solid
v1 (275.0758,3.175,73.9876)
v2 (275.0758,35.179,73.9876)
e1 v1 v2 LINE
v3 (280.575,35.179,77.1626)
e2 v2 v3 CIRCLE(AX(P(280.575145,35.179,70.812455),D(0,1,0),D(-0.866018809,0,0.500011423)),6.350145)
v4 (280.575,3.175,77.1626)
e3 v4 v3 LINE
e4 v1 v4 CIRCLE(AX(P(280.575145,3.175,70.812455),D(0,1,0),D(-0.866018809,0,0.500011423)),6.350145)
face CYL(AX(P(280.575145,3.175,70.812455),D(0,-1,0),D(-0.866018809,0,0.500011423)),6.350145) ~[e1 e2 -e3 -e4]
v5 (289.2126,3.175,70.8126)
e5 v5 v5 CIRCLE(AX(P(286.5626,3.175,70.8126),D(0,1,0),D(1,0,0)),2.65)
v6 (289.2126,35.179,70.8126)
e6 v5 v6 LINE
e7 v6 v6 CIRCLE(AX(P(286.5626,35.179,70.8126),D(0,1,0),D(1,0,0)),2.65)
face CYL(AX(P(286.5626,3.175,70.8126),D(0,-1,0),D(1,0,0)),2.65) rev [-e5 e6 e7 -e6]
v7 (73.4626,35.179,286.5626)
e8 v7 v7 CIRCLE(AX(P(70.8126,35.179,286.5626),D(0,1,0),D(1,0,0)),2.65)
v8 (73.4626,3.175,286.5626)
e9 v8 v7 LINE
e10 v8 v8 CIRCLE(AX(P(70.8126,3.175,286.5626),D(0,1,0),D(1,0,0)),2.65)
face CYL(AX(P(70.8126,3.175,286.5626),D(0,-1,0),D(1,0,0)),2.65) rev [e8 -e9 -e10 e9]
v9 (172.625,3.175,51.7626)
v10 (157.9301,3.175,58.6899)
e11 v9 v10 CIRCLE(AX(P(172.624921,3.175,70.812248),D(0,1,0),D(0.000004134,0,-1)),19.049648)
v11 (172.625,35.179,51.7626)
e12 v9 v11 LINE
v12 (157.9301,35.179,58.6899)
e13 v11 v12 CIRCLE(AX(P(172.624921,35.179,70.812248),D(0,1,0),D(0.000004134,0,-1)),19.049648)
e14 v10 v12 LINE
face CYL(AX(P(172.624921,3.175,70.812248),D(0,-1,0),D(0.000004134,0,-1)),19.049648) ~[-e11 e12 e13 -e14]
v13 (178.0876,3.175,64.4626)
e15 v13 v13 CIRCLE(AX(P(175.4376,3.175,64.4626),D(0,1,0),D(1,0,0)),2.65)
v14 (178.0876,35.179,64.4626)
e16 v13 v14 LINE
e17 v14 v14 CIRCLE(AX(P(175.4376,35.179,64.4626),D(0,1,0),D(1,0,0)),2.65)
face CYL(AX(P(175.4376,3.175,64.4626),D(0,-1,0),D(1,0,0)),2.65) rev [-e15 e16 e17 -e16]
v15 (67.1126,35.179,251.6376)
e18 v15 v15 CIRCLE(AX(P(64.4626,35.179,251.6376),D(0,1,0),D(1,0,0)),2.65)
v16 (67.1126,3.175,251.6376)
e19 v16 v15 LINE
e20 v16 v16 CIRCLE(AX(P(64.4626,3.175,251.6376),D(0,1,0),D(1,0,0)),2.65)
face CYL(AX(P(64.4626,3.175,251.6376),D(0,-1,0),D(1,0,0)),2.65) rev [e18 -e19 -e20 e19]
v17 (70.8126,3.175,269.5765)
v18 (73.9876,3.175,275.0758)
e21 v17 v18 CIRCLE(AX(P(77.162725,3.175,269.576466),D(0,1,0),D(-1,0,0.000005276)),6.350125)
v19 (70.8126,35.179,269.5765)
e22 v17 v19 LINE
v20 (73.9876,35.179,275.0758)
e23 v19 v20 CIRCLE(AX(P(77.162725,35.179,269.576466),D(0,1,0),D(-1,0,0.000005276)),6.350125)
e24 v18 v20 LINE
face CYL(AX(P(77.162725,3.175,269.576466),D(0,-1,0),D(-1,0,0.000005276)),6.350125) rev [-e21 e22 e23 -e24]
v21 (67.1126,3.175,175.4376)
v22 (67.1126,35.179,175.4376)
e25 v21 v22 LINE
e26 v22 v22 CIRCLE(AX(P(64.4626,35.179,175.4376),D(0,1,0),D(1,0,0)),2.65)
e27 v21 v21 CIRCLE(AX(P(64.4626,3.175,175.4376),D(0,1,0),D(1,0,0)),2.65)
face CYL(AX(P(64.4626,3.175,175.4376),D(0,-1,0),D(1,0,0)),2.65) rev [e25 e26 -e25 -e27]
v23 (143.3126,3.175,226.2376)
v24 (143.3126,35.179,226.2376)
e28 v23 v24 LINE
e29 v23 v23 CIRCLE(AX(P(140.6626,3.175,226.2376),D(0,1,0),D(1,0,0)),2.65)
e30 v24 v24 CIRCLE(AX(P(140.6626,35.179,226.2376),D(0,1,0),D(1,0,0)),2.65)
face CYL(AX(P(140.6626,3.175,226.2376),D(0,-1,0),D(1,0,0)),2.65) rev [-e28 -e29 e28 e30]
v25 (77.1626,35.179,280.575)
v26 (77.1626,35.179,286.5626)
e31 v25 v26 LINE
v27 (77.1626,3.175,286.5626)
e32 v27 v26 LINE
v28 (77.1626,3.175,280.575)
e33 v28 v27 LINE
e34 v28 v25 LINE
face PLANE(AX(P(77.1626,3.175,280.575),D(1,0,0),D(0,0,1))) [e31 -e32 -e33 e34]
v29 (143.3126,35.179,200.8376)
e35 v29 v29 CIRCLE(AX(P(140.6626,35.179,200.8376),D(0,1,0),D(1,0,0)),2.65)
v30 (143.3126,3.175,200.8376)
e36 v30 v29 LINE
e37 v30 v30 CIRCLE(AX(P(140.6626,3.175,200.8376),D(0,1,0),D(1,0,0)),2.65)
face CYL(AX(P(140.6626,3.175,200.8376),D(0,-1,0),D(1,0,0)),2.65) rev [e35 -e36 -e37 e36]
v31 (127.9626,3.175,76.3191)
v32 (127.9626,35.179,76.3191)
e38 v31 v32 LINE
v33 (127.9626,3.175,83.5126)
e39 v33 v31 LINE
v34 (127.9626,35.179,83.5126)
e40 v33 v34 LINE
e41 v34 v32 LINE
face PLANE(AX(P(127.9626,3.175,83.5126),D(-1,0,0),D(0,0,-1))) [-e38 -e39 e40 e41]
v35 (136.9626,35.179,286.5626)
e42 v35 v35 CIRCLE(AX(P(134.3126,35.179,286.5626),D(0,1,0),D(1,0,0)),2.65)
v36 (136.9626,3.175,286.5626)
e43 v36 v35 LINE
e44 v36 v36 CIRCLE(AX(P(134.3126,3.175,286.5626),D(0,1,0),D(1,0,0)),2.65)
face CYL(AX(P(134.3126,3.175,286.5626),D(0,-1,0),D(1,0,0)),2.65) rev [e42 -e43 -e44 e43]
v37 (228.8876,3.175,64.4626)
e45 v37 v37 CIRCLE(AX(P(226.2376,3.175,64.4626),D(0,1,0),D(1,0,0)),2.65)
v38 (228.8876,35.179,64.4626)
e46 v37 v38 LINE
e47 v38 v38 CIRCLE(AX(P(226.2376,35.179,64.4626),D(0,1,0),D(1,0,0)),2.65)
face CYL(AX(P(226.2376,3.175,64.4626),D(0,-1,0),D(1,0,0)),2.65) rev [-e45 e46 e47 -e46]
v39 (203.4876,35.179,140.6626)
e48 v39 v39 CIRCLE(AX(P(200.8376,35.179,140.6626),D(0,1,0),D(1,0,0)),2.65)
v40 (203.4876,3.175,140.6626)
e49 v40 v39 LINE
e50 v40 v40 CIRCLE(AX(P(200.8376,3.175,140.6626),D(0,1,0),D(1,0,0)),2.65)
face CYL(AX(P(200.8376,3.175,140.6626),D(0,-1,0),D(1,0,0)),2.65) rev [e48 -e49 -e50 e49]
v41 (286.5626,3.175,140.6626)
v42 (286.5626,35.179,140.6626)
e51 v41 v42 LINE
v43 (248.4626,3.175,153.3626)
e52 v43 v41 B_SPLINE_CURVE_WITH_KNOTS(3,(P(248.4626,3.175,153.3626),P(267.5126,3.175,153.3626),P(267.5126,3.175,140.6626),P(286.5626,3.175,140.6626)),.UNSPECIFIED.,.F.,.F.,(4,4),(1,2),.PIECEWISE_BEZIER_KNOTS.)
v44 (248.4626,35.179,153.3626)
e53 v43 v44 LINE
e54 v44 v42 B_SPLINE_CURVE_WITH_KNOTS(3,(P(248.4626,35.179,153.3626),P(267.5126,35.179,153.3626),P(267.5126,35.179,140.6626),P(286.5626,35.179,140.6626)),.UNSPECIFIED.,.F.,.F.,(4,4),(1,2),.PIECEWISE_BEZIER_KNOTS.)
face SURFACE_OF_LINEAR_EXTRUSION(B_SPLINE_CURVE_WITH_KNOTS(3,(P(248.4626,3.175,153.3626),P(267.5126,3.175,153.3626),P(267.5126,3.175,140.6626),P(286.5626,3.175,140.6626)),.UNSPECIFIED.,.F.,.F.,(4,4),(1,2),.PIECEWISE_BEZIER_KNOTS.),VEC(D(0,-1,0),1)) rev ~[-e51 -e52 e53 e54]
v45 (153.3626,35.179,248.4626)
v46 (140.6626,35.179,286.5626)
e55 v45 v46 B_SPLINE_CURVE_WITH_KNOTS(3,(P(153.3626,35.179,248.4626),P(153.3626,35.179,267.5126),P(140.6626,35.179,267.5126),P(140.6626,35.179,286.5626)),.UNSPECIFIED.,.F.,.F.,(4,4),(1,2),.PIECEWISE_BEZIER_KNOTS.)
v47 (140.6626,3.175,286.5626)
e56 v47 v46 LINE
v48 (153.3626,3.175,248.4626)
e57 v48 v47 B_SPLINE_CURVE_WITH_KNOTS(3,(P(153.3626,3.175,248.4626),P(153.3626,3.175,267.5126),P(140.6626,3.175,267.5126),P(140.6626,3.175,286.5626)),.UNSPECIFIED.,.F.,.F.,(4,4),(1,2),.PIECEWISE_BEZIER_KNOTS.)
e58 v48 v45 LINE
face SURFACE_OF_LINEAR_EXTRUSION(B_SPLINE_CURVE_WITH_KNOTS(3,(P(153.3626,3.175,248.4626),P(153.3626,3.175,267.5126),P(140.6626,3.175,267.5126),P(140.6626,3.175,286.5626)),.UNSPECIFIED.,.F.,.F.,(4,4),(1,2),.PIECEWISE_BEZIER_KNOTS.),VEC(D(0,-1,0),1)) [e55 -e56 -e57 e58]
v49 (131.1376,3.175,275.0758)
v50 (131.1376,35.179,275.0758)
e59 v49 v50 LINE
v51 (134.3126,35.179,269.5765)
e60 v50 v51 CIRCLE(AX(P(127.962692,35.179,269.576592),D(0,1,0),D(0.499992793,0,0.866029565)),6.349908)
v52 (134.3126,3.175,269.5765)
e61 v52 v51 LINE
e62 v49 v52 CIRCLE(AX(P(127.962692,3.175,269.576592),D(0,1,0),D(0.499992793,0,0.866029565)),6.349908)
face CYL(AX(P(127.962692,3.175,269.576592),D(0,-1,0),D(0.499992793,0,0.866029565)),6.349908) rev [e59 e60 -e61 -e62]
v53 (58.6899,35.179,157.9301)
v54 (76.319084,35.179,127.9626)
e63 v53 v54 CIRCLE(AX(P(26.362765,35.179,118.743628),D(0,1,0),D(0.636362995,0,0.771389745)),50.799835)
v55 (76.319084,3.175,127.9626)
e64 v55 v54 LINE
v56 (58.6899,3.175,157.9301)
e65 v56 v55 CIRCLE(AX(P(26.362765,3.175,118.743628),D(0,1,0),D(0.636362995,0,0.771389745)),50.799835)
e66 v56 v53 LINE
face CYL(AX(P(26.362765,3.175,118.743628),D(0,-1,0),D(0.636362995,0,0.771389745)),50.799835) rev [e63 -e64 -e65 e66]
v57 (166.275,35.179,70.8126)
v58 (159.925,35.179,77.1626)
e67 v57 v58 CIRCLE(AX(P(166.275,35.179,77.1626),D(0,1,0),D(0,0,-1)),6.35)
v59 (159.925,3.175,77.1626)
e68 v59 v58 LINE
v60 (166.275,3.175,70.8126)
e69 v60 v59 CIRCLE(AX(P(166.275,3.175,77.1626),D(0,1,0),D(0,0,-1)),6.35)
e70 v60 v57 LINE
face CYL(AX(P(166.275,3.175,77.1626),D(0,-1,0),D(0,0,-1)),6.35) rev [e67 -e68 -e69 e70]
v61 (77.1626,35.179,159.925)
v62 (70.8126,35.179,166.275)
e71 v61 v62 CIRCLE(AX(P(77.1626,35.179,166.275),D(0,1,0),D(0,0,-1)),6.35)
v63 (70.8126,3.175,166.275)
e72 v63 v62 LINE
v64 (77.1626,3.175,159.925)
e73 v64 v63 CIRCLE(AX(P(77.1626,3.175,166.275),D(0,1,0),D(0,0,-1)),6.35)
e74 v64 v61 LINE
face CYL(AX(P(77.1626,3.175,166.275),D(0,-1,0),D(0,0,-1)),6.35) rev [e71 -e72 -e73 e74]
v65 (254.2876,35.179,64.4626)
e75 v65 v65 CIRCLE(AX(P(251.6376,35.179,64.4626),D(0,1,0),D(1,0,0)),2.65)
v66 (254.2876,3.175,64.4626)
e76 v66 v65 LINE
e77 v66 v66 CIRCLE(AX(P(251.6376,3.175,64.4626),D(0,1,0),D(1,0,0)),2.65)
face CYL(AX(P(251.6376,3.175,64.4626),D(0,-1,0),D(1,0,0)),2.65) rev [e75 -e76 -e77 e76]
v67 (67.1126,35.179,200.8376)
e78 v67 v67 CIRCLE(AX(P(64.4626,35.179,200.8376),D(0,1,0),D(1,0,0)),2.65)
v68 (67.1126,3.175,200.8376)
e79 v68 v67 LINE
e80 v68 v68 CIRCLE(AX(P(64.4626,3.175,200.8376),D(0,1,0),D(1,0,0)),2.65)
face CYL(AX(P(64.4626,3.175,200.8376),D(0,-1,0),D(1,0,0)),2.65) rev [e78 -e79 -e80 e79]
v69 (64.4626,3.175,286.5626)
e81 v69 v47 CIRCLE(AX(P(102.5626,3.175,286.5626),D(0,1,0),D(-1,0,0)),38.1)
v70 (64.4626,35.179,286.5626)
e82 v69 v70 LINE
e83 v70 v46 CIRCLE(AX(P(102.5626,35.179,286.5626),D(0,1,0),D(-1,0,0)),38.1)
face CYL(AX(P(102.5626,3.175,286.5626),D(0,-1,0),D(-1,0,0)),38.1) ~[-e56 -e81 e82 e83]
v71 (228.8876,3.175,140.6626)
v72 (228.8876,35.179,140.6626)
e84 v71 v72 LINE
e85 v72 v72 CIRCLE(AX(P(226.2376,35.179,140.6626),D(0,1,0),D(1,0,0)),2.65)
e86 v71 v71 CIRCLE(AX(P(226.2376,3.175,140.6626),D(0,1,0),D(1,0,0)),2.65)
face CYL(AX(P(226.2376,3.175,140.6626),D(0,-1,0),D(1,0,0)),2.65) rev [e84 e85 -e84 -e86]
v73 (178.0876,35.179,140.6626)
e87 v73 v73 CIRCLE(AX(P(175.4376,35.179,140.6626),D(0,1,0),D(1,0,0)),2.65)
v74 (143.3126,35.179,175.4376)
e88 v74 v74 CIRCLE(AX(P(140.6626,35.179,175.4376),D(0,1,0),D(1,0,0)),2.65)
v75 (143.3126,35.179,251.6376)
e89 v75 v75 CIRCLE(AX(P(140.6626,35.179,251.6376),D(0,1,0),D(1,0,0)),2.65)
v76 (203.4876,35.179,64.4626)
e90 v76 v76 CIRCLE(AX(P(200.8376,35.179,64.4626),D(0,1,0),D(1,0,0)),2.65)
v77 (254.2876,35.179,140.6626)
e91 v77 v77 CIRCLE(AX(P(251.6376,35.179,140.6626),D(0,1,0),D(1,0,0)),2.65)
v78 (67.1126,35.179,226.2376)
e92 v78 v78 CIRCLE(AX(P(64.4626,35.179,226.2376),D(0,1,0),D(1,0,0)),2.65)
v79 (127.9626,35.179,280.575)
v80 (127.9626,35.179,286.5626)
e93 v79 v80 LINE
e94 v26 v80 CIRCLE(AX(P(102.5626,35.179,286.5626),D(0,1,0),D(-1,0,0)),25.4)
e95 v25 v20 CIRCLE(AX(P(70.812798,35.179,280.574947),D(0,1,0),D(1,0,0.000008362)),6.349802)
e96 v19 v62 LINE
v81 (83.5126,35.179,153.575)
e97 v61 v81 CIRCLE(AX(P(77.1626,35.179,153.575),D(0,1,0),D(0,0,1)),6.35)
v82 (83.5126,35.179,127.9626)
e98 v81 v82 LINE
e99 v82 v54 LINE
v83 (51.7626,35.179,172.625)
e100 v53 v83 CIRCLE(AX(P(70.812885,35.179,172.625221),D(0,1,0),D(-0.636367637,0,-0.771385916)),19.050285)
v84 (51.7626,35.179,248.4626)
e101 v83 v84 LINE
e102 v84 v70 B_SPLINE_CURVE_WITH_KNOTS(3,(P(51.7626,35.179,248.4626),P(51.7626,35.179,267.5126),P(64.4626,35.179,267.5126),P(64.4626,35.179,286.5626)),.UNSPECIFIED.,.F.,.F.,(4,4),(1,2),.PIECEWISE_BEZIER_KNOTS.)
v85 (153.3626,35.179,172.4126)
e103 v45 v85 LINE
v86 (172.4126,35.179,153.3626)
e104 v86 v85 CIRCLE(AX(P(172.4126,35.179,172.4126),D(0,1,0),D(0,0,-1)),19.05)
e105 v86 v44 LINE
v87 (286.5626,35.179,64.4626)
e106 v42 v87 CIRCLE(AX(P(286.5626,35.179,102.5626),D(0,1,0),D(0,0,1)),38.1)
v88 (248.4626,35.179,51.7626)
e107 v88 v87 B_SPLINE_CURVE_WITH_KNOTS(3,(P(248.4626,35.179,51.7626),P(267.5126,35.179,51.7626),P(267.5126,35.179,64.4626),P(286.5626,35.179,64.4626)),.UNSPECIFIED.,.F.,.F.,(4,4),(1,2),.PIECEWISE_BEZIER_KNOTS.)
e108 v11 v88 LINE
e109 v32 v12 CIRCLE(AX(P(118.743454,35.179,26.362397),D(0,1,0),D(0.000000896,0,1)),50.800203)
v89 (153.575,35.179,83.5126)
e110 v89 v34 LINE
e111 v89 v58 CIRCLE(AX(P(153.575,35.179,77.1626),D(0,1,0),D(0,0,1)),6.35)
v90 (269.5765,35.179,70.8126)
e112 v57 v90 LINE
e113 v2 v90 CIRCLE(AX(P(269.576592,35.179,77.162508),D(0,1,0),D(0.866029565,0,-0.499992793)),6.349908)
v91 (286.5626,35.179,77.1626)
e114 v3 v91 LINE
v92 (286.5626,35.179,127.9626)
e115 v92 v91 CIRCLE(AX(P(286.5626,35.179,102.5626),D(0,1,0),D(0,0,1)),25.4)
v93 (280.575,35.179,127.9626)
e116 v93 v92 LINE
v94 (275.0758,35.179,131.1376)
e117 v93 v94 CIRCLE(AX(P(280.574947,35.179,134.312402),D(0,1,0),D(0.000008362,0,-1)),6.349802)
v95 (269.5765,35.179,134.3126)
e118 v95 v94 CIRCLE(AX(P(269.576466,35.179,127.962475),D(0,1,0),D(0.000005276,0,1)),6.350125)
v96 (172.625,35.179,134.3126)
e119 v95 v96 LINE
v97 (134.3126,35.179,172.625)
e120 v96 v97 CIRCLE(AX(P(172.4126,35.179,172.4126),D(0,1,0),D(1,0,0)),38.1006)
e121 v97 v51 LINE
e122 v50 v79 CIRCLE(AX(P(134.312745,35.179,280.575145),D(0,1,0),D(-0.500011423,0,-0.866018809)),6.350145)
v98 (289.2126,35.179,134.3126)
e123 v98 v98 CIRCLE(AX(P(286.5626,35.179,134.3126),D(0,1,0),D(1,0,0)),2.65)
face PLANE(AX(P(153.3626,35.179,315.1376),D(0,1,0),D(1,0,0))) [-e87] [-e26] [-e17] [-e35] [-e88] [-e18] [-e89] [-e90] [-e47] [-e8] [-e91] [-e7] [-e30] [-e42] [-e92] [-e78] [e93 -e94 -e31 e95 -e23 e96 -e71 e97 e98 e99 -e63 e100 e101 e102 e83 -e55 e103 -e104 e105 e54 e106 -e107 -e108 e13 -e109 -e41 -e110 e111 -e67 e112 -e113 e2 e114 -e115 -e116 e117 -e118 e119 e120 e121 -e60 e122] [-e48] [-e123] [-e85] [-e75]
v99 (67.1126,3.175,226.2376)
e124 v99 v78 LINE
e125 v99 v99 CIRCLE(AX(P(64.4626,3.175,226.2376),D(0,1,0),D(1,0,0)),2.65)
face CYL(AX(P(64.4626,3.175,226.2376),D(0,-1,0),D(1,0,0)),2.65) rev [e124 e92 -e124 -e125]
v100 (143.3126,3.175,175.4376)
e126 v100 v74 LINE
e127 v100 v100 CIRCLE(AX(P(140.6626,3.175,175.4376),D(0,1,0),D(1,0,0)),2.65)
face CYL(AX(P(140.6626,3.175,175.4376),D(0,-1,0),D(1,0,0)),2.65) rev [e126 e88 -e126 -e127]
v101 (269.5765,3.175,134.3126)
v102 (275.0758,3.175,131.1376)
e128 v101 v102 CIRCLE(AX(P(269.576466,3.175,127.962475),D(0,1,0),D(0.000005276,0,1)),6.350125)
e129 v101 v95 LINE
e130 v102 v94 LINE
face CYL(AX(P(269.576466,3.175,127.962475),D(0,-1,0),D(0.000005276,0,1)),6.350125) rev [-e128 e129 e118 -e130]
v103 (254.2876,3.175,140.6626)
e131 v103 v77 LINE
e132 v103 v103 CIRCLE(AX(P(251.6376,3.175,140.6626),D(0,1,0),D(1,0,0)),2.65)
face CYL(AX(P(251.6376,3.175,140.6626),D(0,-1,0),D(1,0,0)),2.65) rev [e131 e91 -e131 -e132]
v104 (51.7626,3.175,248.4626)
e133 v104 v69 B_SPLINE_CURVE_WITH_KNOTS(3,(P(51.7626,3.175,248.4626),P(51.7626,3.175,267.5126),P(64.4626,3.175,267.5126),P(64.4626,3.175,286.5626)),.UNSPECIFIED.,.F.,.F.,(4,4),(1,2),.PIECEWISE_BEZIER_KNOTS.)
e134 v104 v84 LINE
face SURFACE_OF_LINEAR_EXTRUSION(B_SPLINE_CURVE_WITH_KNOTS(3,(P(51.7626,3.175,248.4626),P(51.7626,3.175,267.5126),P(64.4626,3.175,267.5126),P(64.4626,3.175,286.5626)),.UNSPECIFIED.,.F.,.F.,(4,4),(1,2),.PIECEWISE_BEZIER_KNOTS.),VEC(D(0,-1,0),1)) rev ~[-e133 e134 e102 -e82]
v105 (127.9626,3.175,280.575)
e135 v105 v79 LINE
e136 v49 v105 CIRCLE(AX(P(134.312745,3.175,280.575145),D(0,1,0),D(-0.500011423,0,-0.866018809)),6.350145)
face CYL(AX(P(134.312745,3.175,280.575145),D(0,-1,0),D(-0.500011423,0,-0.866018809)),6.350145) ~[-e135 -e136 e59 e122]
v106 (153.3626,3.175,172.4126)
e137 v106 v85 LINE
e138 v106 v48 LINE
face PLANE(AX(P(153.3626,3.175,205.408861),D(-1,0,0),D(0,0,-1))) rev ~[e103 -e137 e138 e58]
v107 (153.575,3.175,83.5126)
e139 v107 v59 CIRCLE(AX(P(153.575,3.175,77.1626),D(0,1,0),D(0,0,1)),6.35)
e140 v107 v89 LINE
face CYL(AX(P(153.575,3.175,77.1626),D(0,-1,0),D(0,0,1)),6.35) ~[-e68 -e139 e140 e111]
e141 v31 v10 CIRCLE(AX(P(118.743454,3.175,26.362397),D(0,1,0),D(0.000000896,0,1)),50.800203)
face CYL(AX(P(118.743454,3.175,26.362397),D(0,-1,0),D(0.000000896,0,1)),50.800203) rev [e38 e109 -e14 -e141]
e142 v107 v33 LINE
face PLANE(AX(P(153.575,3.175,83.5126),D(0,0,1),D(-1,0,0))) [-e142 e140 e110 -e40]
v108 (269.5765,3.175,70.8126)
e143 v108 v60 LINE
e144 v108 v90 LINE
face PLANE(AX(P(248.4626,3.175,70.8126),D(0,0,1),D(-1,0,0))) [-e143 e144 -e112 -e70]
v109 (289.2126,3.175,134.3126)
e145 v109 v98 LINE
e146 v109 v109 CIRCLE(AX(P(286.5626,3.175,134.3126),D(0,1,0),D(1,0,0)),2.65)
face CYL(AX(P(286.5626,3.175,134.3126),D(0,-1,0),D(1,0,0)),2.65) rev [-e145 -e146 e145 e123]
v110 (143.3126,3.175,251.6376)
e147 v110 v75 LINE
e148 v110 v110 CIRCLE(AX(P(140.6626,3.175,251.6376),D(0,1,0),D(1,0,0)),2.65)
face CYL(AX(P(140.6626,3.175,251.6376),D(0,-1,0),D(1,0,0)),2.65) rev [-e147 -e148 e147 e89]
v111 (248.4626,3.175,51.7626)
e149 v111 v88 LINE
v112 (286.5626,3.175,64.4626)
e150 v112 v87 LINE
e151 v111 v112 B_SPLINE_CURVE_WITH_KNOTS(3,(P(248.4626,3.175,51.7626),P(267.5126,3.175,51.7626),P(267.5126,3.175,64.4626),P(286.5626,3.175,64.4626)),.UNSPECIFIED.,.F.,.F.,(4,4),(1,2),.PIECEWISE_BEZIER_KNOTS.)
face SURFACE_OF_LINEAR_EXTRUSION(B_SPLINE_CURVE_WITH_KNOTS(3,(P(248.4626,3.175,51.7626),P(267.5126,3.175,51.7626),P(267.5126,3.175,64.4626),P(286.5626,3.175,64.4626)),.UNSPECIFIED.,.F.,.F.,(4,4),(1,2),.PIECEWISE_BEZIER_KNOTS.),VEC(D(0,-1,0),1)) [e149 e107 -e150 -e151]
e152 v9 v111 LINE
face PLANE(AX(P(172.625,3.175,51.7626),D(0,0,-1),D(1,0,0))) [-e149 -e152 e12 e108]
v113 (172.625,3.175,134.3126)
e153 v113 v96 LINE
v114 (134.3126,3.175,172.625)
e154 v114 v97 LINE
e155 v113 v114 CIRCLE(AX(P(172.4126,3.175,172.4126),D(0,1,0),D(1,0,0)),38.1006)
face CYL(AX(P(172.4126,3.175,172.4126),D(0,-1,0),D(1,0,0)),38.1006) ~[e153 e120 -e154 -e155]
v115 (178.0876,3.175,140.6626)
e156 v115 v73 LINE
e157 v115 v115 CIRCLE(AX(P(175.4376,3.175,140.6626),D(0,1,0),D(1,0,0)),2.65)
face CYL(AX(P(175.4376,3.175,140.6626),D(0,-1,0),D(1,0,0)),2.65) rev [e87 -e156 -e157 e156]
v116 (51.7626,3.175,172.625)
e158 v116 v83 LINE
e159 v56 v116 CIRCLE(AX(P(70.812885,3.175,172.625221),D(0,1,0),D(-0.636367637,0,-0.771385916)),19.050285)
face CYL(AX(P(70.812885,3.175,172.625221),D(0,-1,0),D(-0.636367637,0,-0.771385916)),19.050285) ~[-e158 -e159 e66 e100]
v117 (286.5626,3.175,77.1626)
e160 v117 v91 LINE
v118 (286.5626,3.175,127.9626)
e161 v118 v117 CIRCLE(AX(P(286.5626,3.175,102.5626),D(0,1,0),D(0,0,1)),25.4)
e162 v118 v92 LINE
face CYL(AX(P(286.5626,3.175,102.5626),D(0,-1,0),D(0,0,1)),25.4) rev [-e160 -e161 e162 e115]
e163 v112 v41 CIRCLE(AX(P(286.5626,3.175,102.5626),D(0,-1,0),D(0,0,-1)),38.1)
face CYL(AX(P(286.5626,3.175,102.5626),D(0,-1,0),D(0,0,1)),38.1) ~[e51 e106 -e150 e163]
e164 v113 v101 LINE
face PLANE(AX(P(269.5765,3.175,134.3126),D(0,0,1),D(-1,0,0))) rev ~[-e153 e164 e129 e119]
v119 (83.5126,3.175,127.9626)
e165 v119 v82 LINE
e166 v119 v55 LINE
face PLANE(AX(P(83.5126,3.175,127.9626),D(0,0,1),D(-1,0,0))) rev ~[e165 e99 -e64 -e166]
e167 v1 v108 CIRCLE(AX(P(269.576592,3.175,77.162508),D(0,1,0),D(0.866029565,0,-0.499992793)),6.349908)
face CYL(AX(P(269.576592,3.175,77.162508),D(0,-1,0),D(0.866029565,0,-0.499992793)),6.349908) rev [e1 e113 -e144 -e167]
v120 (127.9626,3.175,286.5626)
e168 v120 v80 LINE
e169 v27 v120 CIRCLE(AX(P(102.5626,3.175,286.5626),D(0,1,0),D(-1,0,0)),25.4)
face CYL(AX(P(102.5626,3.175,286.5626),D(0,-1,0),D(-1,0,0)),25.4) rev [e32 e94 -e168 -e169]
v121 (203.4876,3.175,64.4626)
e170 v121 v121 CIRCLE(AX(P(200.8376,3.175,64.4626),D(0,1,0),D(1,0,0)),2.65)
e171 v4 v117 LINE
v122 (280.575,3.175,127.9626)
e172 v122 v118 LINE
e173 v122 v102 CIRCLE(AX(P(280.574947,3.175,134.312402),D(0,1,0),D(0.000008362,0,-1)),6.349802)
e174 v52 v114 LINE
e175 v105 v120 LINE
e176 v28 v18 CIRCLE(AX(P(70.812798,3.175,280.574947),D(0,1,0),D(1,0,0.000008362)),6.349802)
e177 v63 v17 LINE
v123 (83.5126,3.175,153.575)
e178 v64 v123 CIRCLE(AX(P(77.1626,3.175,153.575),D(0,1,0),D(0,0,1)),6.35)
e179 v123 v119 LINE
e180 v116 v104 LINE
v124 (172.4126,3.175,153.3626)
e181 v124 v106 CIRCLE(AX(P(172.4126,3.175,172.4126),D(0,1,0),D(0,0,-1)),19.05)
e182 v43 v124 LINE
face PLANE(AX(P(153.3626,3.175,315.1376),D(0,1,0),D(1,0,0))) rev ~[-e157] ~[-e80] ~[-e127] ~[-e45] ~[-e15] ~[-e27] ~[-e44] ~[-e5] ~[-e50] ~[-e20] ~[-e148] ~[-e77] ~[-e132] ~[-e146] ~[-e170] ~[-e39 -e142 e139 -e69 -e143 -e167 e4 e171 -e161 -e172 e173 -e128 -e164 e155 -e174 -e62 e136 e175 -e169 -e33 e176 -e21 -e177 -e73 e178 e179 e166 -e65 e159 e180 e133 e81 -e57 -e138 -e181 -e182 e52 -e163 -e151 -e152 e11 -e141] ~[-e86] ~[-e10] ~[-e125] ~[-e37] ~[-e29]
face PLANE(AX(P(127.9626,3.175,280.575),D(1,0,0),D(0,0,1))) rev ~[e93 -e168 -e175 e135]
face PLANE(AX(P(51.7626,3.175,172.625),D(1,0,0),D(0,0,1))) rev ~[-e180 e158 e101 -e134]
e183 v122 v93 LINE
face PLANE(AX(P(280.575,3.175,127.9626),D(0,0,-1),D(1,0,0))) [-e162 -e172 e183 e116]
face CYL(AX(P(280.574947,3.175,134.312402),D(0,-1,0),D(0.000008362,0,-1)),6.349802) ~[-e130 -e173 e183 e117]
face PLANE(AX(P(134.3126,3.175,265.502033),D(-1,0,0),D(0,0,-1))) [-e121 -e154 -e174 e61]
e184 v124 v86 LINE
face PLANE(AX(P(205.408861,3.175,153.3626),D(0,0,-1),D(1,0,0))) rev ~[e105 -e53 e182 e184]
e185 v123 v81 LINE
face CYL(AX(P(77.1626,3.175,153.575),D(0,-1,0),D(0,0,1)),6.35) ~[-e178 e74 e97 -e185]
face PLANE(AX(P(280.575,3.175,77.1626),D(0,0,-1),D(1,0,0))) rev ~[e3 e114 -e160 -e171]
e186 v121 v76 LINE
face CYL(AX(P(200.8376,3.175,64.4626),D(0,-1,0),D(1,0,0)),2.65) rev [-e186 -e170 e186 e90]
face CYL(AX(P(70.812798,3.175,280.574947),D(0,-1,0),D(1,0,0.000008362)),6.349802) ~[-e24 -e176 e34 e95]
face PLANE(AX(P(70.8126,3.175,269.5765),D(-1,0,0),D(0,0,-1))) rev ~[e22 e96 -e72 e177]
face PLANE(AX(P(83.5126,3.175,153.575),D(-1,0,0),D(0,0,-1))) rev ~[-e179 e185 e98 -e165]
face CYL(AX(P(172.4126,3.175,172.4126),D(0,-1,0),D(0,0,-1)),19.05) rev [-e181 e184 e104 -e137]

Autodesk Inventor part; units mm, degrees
ref_plane "YZ Plane" through (0, 0, 0) normal (1, 0, 0) x (0, 1, 0)
ref_plane "XZ Plane" through (0, 0, 0) normal (0, 1, 0) x (-1, 0, 0)
ref_plane "XY Plane" through (0, 0, 0) normal (0, 0, 1) x (1, 0, 0)
ref_plane "Work Plane1" through (153.3626, 3.175, 315.1376) normal (0, 1, 0) x (1, 0, 0)
sketch "Sketch2" plane through (153.3626, 3.175, 315.1376) normal (0, 1, 0) x (1, 0, 0)
  circle A0 centre (-50.8, 212.575) radius 6.35 projected
  line L0 (-50.8, 212.575) -> (-50.8, 187.175)
  line L1 (-50.8, 187.175) -> (-102.9735, 187.175)
  circle A1 centre (-88.9, 139.7) radius 2.65 projected
  circle A2 centre (-88.9, 114.3) radius 2.65 projected
  line L2 (-101.6, 142.5126) -> (-101.6, 66.675) projected
  line L3 (-50.8, 212.575) -> (-25.4, 212.575)
  line L4 (-25.4, 212.575) -> (-25.4, 238.8185)
  line L5 (-101.6, 142.5126) -> (-101.6, 66.675)
  arc A3 (-88.9, 28.575) -> (-12.7, 28.575) centre (-50.8, 28.575) ccw projected
  circle A4 centre (-50.8, 28.575) radius 38.1
  line L6 (-101.6, 66.675) -> (-82.55, 66.675)
  line L7 (-82.55, 45.5611) -> (-82.55, 142.5126)
  arc A5 (-76.2, 28.575) -> (-25.4, 28.575) centre (-50.8, 28.575) ccw
  line L8 (-82.55, 66.675) -> (-76.2, 66.675)
  line L9 (-76.2, 34.5626) -> (-76.2, 28.575)
  line L10 (-101.6, 142.5126) -> (-82.55, 142.5126)
  line L11 (-82.55, 40.9126) -> (-82.55, 40.9126)
  arc A6 (-76.2, 34.5626) -> (-79.375, 40.0618) centre (-82.55, 34.5626) ccw
  arc A7 (-82.55, 45.5611) -> (-79.375, 40.0618) centre (-76.2, 45.5611) ccw
  line L12 (-82.55, 142.5126) -> (-82.55, 148.8626)
  line L13 (-76.2, 155.2126) -> (-76.2, 155.2126)
  line L14 (-69.85, 161.5626) -> (-69.85, 187.175)
  arc A8 (-76.2, 155.2126) -> (-69.85, 161.5626) centre (-76.2, 161.5626) ccw
  arc A9 (-76.2, 155.2126) -> (-82.55, 148.8626) centre (-76.2, 148.8626) ccw
  line L15 (-19.05, 45.5611) -> (-19.05, 142.5126)
  line L16 (-25.4, 34.5626) -> (-25.4, 28.575)
  arc A10 (-22.225, 40.0618) -> (-25.4, 34.5626) centre (-19.05, 34.5626) ccw
  arc A11 (-22.225, 40.0618) -> (-19.05, 45.5611) centre (-25.4, 45.5611) ccw
  arc A12 (19.05, 161.775) -> (0, 142.725) centre (19.05, 142.725) ccw projected
  circle A13 centre (19.05, 142.725) radius 19.05
  circle A14 centre (19.05, 142.725) radius 38.1006
  line L17 (-50.8, 212.575) -> (-25.4, 212.575)
  line L18 (-25.4, 212.575) -> (-25.4, 264.7485)
  circle A15 centre (22.075, 250.675) radius 2.65
  circle A16 centre (47.475, 250.675) radius 2.65
  line L19 (19.2624, 263.375) -> (95.1, 263.375)
  line L20 (-50.8, 212.575) -> (-50.8, 187.175)
  line L21 (19.2624, 263.375) -> (95.1, 263.375)
  arc A17 (133.2, 174.475) -> (133.2, 250.675) centre (133.2, 212.575) ccw
  circle A18 centre (133.2, 212.575) radius 38.1
  line L22 (95.1, 263.375) -> (95.1, 244.325)
  line L23 (116.2139, 244.325) -> (19.2624, 244.325)
  arc A19 (133.2, 187.175) -> (133.2, 237.975) centre (133.2, 212.575) ccw
  line L24 (95.1, 244.325) -> (95.1, 237.975)
  line L25 (127.2124, 237.975) -> (133.2, 237.975)
  line L26 (120.8624, 244.325) -> (120.8624, 244.325)
  arc A20 (121.7132, 241.15) -> (127.2124, 237.975) centre (127.2124, 244.325) ccw
  arc A21 (121.7132, 241.15) -> (116.2139, 244.325) centre (116.2139, 237.975) ccw
  line L27 (19.2624, 244.325) -> (12.9124, 244.325)
  line L28 (6.5624, 237.975) -> (6.5624, 237.975)
  line L29 (0.2124, 231.625) -> (-25.4, 231.625)
  arc A22 (0.2124, 231.625) -> (6.5624, 237.975) centre (0.2124, 237.975) ccw
  arc A23 (12.9124, 244.325) -> (6.5624, 237.975) centre (12.9124, 237.975) ccw
  line L30 (116.2139, 180.825) -> (19.2624, 180.825)
  arc A24 (127.2124, 187.175) -> (121.7132, 184) centre (127.2124, 180.825) ccw
  arc A25 (116.2139, 180.825) -> (121.7132, 184) centre (116.2139, 187.175) ccw
  line L31 (127.2124, 187.175) -> (133.2, 187.175)
  arc A26 (-34.6191, 237.975) -> (4.5675, 256.4477) centre (-34.6191, 288.775) ccw projected
  arc A27 (-25.4, 238.8185) -> (4.5675, 256.4477) centre (-34.6191, 288.775) ccw
  arc A28 (19.2624, 263.375) -> (4.5675, 256.4477) centre (19.2624, 244.325) ccw projected
  arc A29 (19.2624, 263.375) -> (4.5675, 256.4477) centre (19.2624, 244.325) ccw
  line L32 (0, 66.675) -> (0, 142.725) projected
  line L33 (0, 142.725) -> (0, 25.7278)
  arc A30 (-94.6727, 157.2075) -> (-101.6, 142.5126) centre (-82.55, 142.5126) ccw projected
  arc A31 (-94.6727, 157.2075) -> (-101.6, 142.5126) centre (-82.55, 142.5126) ccw
  arc A32 (-94.6727, 157.2075) -> (-76.2, 196.3941) centre (-127, 196.3941) ccw projected
  arc A33 (-94.6727, 157.2075) -> (-76.2, 196.3941) centre (-127, 196.3941) ccw
  line L34 (19.05, 161.775) -> (95.1, 161.775)
  line L35 (-101.6, 66.675) -> (-101.6, 47.625) construction
  line L36 (-101.6, 47.625) -> (-88.9, 47.625) construction
  line L37 (-88.9, 47.625) -> (-88.9, 28.575) construction
  spline S0 degree 3 poles (-101.6, 66.675) (-101.6, 47.625) (-88.9, 47.625) (-88.9, 28.575) knots 1 1 1 1 2 2 2 2
  line L38 (-50.8, 28.575) -> (-50.8, 60.9646)
  spline S1 degree 3 poles (0, 66.675) (0, 47.625) (-12.7, 47.625) (-12.7, 28.575) knots 1 1 1 1 2 2 2 2
  line L39 (0, 66.675) -> (0, 47.625) construction
  line L40 (0, 47.625) -> (-12.7, 47.625) construction
  line L41 (-12.7, 47.625) -> (-12.7, 28.575) construction
  spline S2 degree 3 poles (95.1, 263.375) (114.15, 263.375) (114.15, 250.675) (133.2, 250.675) knots 1 1 1 1 2 2 2 2
  line L42 (95.1, 263.375) -> (114.15, 263.375) construction
  line L43 (114.15, 263.375) -> (114.15, 250.675) construction
  line L44 (114.15, 250.675) -> (133.2, 250.675) construction
  spline S3 degree 3 poles (95.1, 161.775) (114.15, 161.775) (114.15, 174.475) (133.2, 174.475) knots 1 1 1 1 2 2 2 2
  line L45 (95.1, 161.775) -> (114.15, 161.775) construction
  line L46 (114.15, 161.775) -> (114.15, 174.475) construction
  line L47 (114.15, 174.475) -> (133.2, 174.475) construction
  circle A34 centre (-88.9, 88.9) radius 2.65 projected
  circle A35 centre (-88.9, 88.9) radius 2.65
  circle A36 centre (-88.9, 63.5) radius 2.65 projected
  circle A37 centre (-88.9, 63.5) radius 2.65
  circle A38 centre (-82.55, 28.575) radius 2.65 projected
  circle A39 centre (-82.55, 28.575) radius 2.65
  circle A40 centre (-19.05, 28.575) radius 2.65 projected
  circle A41 centre (-19.05, 28.575) radius 2.65
  circle A42 centre (-12.7, 63.5) radius 2.65 projected
  circle A43 centre (-12.7, 63.5) radius 2.65
  circle A44 centre (-12.7, 88.9) radius 2.65 projected
  circle A45 centre (-12.7, 88.9) radius 2.65
  circle A46 centre (-12.7, 114.3) radius 2.65 projected
  circle A47 centre (-12.7, 114.3) radius 2.65
  circle A48 centre (-12.7, 139.7) radius 2.65 projected
  circle A49 centre (-12.7, 139.7) radius 2.65
  circle A50 centre (22.075, 174.475) radius 2.65 projected
  circle A51 centre (22.075, 174.475) radius 2.65
  circle A52 centre (47.475, 174.475) radius 2.65 projected
  circle A53 centre (47.475, 174.475) radius 2.65
  circle A54 centre (72.875, 174.475) radius 2.65 projected
  circle A55 centre (72.875, 174.475) radius 2.65
  circle A56 centre (98.275, 174.475) radius 2.65 projected
  circle A57 centre (98.275, 174.475) radius 2.65
  circle A58 centre (133.2, 180.825) radius 2.65 projected
  circle A59 centre (133.2, 180.825) radius 2.65
  circle A60 centre (133.2, 244.325) radius 2.65 projected
  circle A61 centre (133.2, 244.325) radius 2.65
  circle A62 centre (98.275, 250.675) radius 2.65 projected
  circle A63 centre (98.275, 250.675) radius 2.65
  circle A64 centre (72.875, 250.675) radius 2.65
  point P0 (-153.3626, 315.1376)
  point P1 (-82.55, 155.2126)
  point P2 (-69.85, 155.2126)
  point P3 (6.5624, 244.325)
  point P4 (6.5624, 231.625)
  point P5 (-77.0435, 187.175)
  point P6 (-88.9, 28.575)
  point P7 (-12.7, 28.575)
  point P8 (133.2, 174.475)
  point P9 (133.2, 250.675)
  point P10 (-25.4, 238.8185)
  point P11 (6.5624, 237.975)
  point P12 (19.2624, 244.325)
  dimension "d40" = 25.4
  dimension "d43" = 19.05
  dimension "d46" = 12.7
  dimension "d47" = 76.2
  dimension "d48" = 101.6
  dimension "d49" = 6.35
  dimension "d50" = 12.7
  dimension "d51" = 12.7
  dimension "d52" = 6.35
  dimension "d53" = 19.05
  dimension "d54" = 19.05
extrude "Extrusion2" add sketch "Sketch2" along normal blind 32.004 contours L4 A26 A28 L19 L22 L23 L27 A23 A22 L29 | L14 A8 A9 L12 L10 A30 A32 L1 | L10 L7 L6 L2 | S2 A18 L23 L22 | L6 L7 A4 S0 | A17 A18 L30 A25 A24 L31 A19 L25 A20 A21 L23 | A4 L7 A7 A6 L9 A5 L16 A10 A11 L15 A3 | A4 L15 A14 L32 S1 | A18 S3 L34 A14 L30 | A14 L34 A12 L32
properties part number "Gearbox Cover Large"
